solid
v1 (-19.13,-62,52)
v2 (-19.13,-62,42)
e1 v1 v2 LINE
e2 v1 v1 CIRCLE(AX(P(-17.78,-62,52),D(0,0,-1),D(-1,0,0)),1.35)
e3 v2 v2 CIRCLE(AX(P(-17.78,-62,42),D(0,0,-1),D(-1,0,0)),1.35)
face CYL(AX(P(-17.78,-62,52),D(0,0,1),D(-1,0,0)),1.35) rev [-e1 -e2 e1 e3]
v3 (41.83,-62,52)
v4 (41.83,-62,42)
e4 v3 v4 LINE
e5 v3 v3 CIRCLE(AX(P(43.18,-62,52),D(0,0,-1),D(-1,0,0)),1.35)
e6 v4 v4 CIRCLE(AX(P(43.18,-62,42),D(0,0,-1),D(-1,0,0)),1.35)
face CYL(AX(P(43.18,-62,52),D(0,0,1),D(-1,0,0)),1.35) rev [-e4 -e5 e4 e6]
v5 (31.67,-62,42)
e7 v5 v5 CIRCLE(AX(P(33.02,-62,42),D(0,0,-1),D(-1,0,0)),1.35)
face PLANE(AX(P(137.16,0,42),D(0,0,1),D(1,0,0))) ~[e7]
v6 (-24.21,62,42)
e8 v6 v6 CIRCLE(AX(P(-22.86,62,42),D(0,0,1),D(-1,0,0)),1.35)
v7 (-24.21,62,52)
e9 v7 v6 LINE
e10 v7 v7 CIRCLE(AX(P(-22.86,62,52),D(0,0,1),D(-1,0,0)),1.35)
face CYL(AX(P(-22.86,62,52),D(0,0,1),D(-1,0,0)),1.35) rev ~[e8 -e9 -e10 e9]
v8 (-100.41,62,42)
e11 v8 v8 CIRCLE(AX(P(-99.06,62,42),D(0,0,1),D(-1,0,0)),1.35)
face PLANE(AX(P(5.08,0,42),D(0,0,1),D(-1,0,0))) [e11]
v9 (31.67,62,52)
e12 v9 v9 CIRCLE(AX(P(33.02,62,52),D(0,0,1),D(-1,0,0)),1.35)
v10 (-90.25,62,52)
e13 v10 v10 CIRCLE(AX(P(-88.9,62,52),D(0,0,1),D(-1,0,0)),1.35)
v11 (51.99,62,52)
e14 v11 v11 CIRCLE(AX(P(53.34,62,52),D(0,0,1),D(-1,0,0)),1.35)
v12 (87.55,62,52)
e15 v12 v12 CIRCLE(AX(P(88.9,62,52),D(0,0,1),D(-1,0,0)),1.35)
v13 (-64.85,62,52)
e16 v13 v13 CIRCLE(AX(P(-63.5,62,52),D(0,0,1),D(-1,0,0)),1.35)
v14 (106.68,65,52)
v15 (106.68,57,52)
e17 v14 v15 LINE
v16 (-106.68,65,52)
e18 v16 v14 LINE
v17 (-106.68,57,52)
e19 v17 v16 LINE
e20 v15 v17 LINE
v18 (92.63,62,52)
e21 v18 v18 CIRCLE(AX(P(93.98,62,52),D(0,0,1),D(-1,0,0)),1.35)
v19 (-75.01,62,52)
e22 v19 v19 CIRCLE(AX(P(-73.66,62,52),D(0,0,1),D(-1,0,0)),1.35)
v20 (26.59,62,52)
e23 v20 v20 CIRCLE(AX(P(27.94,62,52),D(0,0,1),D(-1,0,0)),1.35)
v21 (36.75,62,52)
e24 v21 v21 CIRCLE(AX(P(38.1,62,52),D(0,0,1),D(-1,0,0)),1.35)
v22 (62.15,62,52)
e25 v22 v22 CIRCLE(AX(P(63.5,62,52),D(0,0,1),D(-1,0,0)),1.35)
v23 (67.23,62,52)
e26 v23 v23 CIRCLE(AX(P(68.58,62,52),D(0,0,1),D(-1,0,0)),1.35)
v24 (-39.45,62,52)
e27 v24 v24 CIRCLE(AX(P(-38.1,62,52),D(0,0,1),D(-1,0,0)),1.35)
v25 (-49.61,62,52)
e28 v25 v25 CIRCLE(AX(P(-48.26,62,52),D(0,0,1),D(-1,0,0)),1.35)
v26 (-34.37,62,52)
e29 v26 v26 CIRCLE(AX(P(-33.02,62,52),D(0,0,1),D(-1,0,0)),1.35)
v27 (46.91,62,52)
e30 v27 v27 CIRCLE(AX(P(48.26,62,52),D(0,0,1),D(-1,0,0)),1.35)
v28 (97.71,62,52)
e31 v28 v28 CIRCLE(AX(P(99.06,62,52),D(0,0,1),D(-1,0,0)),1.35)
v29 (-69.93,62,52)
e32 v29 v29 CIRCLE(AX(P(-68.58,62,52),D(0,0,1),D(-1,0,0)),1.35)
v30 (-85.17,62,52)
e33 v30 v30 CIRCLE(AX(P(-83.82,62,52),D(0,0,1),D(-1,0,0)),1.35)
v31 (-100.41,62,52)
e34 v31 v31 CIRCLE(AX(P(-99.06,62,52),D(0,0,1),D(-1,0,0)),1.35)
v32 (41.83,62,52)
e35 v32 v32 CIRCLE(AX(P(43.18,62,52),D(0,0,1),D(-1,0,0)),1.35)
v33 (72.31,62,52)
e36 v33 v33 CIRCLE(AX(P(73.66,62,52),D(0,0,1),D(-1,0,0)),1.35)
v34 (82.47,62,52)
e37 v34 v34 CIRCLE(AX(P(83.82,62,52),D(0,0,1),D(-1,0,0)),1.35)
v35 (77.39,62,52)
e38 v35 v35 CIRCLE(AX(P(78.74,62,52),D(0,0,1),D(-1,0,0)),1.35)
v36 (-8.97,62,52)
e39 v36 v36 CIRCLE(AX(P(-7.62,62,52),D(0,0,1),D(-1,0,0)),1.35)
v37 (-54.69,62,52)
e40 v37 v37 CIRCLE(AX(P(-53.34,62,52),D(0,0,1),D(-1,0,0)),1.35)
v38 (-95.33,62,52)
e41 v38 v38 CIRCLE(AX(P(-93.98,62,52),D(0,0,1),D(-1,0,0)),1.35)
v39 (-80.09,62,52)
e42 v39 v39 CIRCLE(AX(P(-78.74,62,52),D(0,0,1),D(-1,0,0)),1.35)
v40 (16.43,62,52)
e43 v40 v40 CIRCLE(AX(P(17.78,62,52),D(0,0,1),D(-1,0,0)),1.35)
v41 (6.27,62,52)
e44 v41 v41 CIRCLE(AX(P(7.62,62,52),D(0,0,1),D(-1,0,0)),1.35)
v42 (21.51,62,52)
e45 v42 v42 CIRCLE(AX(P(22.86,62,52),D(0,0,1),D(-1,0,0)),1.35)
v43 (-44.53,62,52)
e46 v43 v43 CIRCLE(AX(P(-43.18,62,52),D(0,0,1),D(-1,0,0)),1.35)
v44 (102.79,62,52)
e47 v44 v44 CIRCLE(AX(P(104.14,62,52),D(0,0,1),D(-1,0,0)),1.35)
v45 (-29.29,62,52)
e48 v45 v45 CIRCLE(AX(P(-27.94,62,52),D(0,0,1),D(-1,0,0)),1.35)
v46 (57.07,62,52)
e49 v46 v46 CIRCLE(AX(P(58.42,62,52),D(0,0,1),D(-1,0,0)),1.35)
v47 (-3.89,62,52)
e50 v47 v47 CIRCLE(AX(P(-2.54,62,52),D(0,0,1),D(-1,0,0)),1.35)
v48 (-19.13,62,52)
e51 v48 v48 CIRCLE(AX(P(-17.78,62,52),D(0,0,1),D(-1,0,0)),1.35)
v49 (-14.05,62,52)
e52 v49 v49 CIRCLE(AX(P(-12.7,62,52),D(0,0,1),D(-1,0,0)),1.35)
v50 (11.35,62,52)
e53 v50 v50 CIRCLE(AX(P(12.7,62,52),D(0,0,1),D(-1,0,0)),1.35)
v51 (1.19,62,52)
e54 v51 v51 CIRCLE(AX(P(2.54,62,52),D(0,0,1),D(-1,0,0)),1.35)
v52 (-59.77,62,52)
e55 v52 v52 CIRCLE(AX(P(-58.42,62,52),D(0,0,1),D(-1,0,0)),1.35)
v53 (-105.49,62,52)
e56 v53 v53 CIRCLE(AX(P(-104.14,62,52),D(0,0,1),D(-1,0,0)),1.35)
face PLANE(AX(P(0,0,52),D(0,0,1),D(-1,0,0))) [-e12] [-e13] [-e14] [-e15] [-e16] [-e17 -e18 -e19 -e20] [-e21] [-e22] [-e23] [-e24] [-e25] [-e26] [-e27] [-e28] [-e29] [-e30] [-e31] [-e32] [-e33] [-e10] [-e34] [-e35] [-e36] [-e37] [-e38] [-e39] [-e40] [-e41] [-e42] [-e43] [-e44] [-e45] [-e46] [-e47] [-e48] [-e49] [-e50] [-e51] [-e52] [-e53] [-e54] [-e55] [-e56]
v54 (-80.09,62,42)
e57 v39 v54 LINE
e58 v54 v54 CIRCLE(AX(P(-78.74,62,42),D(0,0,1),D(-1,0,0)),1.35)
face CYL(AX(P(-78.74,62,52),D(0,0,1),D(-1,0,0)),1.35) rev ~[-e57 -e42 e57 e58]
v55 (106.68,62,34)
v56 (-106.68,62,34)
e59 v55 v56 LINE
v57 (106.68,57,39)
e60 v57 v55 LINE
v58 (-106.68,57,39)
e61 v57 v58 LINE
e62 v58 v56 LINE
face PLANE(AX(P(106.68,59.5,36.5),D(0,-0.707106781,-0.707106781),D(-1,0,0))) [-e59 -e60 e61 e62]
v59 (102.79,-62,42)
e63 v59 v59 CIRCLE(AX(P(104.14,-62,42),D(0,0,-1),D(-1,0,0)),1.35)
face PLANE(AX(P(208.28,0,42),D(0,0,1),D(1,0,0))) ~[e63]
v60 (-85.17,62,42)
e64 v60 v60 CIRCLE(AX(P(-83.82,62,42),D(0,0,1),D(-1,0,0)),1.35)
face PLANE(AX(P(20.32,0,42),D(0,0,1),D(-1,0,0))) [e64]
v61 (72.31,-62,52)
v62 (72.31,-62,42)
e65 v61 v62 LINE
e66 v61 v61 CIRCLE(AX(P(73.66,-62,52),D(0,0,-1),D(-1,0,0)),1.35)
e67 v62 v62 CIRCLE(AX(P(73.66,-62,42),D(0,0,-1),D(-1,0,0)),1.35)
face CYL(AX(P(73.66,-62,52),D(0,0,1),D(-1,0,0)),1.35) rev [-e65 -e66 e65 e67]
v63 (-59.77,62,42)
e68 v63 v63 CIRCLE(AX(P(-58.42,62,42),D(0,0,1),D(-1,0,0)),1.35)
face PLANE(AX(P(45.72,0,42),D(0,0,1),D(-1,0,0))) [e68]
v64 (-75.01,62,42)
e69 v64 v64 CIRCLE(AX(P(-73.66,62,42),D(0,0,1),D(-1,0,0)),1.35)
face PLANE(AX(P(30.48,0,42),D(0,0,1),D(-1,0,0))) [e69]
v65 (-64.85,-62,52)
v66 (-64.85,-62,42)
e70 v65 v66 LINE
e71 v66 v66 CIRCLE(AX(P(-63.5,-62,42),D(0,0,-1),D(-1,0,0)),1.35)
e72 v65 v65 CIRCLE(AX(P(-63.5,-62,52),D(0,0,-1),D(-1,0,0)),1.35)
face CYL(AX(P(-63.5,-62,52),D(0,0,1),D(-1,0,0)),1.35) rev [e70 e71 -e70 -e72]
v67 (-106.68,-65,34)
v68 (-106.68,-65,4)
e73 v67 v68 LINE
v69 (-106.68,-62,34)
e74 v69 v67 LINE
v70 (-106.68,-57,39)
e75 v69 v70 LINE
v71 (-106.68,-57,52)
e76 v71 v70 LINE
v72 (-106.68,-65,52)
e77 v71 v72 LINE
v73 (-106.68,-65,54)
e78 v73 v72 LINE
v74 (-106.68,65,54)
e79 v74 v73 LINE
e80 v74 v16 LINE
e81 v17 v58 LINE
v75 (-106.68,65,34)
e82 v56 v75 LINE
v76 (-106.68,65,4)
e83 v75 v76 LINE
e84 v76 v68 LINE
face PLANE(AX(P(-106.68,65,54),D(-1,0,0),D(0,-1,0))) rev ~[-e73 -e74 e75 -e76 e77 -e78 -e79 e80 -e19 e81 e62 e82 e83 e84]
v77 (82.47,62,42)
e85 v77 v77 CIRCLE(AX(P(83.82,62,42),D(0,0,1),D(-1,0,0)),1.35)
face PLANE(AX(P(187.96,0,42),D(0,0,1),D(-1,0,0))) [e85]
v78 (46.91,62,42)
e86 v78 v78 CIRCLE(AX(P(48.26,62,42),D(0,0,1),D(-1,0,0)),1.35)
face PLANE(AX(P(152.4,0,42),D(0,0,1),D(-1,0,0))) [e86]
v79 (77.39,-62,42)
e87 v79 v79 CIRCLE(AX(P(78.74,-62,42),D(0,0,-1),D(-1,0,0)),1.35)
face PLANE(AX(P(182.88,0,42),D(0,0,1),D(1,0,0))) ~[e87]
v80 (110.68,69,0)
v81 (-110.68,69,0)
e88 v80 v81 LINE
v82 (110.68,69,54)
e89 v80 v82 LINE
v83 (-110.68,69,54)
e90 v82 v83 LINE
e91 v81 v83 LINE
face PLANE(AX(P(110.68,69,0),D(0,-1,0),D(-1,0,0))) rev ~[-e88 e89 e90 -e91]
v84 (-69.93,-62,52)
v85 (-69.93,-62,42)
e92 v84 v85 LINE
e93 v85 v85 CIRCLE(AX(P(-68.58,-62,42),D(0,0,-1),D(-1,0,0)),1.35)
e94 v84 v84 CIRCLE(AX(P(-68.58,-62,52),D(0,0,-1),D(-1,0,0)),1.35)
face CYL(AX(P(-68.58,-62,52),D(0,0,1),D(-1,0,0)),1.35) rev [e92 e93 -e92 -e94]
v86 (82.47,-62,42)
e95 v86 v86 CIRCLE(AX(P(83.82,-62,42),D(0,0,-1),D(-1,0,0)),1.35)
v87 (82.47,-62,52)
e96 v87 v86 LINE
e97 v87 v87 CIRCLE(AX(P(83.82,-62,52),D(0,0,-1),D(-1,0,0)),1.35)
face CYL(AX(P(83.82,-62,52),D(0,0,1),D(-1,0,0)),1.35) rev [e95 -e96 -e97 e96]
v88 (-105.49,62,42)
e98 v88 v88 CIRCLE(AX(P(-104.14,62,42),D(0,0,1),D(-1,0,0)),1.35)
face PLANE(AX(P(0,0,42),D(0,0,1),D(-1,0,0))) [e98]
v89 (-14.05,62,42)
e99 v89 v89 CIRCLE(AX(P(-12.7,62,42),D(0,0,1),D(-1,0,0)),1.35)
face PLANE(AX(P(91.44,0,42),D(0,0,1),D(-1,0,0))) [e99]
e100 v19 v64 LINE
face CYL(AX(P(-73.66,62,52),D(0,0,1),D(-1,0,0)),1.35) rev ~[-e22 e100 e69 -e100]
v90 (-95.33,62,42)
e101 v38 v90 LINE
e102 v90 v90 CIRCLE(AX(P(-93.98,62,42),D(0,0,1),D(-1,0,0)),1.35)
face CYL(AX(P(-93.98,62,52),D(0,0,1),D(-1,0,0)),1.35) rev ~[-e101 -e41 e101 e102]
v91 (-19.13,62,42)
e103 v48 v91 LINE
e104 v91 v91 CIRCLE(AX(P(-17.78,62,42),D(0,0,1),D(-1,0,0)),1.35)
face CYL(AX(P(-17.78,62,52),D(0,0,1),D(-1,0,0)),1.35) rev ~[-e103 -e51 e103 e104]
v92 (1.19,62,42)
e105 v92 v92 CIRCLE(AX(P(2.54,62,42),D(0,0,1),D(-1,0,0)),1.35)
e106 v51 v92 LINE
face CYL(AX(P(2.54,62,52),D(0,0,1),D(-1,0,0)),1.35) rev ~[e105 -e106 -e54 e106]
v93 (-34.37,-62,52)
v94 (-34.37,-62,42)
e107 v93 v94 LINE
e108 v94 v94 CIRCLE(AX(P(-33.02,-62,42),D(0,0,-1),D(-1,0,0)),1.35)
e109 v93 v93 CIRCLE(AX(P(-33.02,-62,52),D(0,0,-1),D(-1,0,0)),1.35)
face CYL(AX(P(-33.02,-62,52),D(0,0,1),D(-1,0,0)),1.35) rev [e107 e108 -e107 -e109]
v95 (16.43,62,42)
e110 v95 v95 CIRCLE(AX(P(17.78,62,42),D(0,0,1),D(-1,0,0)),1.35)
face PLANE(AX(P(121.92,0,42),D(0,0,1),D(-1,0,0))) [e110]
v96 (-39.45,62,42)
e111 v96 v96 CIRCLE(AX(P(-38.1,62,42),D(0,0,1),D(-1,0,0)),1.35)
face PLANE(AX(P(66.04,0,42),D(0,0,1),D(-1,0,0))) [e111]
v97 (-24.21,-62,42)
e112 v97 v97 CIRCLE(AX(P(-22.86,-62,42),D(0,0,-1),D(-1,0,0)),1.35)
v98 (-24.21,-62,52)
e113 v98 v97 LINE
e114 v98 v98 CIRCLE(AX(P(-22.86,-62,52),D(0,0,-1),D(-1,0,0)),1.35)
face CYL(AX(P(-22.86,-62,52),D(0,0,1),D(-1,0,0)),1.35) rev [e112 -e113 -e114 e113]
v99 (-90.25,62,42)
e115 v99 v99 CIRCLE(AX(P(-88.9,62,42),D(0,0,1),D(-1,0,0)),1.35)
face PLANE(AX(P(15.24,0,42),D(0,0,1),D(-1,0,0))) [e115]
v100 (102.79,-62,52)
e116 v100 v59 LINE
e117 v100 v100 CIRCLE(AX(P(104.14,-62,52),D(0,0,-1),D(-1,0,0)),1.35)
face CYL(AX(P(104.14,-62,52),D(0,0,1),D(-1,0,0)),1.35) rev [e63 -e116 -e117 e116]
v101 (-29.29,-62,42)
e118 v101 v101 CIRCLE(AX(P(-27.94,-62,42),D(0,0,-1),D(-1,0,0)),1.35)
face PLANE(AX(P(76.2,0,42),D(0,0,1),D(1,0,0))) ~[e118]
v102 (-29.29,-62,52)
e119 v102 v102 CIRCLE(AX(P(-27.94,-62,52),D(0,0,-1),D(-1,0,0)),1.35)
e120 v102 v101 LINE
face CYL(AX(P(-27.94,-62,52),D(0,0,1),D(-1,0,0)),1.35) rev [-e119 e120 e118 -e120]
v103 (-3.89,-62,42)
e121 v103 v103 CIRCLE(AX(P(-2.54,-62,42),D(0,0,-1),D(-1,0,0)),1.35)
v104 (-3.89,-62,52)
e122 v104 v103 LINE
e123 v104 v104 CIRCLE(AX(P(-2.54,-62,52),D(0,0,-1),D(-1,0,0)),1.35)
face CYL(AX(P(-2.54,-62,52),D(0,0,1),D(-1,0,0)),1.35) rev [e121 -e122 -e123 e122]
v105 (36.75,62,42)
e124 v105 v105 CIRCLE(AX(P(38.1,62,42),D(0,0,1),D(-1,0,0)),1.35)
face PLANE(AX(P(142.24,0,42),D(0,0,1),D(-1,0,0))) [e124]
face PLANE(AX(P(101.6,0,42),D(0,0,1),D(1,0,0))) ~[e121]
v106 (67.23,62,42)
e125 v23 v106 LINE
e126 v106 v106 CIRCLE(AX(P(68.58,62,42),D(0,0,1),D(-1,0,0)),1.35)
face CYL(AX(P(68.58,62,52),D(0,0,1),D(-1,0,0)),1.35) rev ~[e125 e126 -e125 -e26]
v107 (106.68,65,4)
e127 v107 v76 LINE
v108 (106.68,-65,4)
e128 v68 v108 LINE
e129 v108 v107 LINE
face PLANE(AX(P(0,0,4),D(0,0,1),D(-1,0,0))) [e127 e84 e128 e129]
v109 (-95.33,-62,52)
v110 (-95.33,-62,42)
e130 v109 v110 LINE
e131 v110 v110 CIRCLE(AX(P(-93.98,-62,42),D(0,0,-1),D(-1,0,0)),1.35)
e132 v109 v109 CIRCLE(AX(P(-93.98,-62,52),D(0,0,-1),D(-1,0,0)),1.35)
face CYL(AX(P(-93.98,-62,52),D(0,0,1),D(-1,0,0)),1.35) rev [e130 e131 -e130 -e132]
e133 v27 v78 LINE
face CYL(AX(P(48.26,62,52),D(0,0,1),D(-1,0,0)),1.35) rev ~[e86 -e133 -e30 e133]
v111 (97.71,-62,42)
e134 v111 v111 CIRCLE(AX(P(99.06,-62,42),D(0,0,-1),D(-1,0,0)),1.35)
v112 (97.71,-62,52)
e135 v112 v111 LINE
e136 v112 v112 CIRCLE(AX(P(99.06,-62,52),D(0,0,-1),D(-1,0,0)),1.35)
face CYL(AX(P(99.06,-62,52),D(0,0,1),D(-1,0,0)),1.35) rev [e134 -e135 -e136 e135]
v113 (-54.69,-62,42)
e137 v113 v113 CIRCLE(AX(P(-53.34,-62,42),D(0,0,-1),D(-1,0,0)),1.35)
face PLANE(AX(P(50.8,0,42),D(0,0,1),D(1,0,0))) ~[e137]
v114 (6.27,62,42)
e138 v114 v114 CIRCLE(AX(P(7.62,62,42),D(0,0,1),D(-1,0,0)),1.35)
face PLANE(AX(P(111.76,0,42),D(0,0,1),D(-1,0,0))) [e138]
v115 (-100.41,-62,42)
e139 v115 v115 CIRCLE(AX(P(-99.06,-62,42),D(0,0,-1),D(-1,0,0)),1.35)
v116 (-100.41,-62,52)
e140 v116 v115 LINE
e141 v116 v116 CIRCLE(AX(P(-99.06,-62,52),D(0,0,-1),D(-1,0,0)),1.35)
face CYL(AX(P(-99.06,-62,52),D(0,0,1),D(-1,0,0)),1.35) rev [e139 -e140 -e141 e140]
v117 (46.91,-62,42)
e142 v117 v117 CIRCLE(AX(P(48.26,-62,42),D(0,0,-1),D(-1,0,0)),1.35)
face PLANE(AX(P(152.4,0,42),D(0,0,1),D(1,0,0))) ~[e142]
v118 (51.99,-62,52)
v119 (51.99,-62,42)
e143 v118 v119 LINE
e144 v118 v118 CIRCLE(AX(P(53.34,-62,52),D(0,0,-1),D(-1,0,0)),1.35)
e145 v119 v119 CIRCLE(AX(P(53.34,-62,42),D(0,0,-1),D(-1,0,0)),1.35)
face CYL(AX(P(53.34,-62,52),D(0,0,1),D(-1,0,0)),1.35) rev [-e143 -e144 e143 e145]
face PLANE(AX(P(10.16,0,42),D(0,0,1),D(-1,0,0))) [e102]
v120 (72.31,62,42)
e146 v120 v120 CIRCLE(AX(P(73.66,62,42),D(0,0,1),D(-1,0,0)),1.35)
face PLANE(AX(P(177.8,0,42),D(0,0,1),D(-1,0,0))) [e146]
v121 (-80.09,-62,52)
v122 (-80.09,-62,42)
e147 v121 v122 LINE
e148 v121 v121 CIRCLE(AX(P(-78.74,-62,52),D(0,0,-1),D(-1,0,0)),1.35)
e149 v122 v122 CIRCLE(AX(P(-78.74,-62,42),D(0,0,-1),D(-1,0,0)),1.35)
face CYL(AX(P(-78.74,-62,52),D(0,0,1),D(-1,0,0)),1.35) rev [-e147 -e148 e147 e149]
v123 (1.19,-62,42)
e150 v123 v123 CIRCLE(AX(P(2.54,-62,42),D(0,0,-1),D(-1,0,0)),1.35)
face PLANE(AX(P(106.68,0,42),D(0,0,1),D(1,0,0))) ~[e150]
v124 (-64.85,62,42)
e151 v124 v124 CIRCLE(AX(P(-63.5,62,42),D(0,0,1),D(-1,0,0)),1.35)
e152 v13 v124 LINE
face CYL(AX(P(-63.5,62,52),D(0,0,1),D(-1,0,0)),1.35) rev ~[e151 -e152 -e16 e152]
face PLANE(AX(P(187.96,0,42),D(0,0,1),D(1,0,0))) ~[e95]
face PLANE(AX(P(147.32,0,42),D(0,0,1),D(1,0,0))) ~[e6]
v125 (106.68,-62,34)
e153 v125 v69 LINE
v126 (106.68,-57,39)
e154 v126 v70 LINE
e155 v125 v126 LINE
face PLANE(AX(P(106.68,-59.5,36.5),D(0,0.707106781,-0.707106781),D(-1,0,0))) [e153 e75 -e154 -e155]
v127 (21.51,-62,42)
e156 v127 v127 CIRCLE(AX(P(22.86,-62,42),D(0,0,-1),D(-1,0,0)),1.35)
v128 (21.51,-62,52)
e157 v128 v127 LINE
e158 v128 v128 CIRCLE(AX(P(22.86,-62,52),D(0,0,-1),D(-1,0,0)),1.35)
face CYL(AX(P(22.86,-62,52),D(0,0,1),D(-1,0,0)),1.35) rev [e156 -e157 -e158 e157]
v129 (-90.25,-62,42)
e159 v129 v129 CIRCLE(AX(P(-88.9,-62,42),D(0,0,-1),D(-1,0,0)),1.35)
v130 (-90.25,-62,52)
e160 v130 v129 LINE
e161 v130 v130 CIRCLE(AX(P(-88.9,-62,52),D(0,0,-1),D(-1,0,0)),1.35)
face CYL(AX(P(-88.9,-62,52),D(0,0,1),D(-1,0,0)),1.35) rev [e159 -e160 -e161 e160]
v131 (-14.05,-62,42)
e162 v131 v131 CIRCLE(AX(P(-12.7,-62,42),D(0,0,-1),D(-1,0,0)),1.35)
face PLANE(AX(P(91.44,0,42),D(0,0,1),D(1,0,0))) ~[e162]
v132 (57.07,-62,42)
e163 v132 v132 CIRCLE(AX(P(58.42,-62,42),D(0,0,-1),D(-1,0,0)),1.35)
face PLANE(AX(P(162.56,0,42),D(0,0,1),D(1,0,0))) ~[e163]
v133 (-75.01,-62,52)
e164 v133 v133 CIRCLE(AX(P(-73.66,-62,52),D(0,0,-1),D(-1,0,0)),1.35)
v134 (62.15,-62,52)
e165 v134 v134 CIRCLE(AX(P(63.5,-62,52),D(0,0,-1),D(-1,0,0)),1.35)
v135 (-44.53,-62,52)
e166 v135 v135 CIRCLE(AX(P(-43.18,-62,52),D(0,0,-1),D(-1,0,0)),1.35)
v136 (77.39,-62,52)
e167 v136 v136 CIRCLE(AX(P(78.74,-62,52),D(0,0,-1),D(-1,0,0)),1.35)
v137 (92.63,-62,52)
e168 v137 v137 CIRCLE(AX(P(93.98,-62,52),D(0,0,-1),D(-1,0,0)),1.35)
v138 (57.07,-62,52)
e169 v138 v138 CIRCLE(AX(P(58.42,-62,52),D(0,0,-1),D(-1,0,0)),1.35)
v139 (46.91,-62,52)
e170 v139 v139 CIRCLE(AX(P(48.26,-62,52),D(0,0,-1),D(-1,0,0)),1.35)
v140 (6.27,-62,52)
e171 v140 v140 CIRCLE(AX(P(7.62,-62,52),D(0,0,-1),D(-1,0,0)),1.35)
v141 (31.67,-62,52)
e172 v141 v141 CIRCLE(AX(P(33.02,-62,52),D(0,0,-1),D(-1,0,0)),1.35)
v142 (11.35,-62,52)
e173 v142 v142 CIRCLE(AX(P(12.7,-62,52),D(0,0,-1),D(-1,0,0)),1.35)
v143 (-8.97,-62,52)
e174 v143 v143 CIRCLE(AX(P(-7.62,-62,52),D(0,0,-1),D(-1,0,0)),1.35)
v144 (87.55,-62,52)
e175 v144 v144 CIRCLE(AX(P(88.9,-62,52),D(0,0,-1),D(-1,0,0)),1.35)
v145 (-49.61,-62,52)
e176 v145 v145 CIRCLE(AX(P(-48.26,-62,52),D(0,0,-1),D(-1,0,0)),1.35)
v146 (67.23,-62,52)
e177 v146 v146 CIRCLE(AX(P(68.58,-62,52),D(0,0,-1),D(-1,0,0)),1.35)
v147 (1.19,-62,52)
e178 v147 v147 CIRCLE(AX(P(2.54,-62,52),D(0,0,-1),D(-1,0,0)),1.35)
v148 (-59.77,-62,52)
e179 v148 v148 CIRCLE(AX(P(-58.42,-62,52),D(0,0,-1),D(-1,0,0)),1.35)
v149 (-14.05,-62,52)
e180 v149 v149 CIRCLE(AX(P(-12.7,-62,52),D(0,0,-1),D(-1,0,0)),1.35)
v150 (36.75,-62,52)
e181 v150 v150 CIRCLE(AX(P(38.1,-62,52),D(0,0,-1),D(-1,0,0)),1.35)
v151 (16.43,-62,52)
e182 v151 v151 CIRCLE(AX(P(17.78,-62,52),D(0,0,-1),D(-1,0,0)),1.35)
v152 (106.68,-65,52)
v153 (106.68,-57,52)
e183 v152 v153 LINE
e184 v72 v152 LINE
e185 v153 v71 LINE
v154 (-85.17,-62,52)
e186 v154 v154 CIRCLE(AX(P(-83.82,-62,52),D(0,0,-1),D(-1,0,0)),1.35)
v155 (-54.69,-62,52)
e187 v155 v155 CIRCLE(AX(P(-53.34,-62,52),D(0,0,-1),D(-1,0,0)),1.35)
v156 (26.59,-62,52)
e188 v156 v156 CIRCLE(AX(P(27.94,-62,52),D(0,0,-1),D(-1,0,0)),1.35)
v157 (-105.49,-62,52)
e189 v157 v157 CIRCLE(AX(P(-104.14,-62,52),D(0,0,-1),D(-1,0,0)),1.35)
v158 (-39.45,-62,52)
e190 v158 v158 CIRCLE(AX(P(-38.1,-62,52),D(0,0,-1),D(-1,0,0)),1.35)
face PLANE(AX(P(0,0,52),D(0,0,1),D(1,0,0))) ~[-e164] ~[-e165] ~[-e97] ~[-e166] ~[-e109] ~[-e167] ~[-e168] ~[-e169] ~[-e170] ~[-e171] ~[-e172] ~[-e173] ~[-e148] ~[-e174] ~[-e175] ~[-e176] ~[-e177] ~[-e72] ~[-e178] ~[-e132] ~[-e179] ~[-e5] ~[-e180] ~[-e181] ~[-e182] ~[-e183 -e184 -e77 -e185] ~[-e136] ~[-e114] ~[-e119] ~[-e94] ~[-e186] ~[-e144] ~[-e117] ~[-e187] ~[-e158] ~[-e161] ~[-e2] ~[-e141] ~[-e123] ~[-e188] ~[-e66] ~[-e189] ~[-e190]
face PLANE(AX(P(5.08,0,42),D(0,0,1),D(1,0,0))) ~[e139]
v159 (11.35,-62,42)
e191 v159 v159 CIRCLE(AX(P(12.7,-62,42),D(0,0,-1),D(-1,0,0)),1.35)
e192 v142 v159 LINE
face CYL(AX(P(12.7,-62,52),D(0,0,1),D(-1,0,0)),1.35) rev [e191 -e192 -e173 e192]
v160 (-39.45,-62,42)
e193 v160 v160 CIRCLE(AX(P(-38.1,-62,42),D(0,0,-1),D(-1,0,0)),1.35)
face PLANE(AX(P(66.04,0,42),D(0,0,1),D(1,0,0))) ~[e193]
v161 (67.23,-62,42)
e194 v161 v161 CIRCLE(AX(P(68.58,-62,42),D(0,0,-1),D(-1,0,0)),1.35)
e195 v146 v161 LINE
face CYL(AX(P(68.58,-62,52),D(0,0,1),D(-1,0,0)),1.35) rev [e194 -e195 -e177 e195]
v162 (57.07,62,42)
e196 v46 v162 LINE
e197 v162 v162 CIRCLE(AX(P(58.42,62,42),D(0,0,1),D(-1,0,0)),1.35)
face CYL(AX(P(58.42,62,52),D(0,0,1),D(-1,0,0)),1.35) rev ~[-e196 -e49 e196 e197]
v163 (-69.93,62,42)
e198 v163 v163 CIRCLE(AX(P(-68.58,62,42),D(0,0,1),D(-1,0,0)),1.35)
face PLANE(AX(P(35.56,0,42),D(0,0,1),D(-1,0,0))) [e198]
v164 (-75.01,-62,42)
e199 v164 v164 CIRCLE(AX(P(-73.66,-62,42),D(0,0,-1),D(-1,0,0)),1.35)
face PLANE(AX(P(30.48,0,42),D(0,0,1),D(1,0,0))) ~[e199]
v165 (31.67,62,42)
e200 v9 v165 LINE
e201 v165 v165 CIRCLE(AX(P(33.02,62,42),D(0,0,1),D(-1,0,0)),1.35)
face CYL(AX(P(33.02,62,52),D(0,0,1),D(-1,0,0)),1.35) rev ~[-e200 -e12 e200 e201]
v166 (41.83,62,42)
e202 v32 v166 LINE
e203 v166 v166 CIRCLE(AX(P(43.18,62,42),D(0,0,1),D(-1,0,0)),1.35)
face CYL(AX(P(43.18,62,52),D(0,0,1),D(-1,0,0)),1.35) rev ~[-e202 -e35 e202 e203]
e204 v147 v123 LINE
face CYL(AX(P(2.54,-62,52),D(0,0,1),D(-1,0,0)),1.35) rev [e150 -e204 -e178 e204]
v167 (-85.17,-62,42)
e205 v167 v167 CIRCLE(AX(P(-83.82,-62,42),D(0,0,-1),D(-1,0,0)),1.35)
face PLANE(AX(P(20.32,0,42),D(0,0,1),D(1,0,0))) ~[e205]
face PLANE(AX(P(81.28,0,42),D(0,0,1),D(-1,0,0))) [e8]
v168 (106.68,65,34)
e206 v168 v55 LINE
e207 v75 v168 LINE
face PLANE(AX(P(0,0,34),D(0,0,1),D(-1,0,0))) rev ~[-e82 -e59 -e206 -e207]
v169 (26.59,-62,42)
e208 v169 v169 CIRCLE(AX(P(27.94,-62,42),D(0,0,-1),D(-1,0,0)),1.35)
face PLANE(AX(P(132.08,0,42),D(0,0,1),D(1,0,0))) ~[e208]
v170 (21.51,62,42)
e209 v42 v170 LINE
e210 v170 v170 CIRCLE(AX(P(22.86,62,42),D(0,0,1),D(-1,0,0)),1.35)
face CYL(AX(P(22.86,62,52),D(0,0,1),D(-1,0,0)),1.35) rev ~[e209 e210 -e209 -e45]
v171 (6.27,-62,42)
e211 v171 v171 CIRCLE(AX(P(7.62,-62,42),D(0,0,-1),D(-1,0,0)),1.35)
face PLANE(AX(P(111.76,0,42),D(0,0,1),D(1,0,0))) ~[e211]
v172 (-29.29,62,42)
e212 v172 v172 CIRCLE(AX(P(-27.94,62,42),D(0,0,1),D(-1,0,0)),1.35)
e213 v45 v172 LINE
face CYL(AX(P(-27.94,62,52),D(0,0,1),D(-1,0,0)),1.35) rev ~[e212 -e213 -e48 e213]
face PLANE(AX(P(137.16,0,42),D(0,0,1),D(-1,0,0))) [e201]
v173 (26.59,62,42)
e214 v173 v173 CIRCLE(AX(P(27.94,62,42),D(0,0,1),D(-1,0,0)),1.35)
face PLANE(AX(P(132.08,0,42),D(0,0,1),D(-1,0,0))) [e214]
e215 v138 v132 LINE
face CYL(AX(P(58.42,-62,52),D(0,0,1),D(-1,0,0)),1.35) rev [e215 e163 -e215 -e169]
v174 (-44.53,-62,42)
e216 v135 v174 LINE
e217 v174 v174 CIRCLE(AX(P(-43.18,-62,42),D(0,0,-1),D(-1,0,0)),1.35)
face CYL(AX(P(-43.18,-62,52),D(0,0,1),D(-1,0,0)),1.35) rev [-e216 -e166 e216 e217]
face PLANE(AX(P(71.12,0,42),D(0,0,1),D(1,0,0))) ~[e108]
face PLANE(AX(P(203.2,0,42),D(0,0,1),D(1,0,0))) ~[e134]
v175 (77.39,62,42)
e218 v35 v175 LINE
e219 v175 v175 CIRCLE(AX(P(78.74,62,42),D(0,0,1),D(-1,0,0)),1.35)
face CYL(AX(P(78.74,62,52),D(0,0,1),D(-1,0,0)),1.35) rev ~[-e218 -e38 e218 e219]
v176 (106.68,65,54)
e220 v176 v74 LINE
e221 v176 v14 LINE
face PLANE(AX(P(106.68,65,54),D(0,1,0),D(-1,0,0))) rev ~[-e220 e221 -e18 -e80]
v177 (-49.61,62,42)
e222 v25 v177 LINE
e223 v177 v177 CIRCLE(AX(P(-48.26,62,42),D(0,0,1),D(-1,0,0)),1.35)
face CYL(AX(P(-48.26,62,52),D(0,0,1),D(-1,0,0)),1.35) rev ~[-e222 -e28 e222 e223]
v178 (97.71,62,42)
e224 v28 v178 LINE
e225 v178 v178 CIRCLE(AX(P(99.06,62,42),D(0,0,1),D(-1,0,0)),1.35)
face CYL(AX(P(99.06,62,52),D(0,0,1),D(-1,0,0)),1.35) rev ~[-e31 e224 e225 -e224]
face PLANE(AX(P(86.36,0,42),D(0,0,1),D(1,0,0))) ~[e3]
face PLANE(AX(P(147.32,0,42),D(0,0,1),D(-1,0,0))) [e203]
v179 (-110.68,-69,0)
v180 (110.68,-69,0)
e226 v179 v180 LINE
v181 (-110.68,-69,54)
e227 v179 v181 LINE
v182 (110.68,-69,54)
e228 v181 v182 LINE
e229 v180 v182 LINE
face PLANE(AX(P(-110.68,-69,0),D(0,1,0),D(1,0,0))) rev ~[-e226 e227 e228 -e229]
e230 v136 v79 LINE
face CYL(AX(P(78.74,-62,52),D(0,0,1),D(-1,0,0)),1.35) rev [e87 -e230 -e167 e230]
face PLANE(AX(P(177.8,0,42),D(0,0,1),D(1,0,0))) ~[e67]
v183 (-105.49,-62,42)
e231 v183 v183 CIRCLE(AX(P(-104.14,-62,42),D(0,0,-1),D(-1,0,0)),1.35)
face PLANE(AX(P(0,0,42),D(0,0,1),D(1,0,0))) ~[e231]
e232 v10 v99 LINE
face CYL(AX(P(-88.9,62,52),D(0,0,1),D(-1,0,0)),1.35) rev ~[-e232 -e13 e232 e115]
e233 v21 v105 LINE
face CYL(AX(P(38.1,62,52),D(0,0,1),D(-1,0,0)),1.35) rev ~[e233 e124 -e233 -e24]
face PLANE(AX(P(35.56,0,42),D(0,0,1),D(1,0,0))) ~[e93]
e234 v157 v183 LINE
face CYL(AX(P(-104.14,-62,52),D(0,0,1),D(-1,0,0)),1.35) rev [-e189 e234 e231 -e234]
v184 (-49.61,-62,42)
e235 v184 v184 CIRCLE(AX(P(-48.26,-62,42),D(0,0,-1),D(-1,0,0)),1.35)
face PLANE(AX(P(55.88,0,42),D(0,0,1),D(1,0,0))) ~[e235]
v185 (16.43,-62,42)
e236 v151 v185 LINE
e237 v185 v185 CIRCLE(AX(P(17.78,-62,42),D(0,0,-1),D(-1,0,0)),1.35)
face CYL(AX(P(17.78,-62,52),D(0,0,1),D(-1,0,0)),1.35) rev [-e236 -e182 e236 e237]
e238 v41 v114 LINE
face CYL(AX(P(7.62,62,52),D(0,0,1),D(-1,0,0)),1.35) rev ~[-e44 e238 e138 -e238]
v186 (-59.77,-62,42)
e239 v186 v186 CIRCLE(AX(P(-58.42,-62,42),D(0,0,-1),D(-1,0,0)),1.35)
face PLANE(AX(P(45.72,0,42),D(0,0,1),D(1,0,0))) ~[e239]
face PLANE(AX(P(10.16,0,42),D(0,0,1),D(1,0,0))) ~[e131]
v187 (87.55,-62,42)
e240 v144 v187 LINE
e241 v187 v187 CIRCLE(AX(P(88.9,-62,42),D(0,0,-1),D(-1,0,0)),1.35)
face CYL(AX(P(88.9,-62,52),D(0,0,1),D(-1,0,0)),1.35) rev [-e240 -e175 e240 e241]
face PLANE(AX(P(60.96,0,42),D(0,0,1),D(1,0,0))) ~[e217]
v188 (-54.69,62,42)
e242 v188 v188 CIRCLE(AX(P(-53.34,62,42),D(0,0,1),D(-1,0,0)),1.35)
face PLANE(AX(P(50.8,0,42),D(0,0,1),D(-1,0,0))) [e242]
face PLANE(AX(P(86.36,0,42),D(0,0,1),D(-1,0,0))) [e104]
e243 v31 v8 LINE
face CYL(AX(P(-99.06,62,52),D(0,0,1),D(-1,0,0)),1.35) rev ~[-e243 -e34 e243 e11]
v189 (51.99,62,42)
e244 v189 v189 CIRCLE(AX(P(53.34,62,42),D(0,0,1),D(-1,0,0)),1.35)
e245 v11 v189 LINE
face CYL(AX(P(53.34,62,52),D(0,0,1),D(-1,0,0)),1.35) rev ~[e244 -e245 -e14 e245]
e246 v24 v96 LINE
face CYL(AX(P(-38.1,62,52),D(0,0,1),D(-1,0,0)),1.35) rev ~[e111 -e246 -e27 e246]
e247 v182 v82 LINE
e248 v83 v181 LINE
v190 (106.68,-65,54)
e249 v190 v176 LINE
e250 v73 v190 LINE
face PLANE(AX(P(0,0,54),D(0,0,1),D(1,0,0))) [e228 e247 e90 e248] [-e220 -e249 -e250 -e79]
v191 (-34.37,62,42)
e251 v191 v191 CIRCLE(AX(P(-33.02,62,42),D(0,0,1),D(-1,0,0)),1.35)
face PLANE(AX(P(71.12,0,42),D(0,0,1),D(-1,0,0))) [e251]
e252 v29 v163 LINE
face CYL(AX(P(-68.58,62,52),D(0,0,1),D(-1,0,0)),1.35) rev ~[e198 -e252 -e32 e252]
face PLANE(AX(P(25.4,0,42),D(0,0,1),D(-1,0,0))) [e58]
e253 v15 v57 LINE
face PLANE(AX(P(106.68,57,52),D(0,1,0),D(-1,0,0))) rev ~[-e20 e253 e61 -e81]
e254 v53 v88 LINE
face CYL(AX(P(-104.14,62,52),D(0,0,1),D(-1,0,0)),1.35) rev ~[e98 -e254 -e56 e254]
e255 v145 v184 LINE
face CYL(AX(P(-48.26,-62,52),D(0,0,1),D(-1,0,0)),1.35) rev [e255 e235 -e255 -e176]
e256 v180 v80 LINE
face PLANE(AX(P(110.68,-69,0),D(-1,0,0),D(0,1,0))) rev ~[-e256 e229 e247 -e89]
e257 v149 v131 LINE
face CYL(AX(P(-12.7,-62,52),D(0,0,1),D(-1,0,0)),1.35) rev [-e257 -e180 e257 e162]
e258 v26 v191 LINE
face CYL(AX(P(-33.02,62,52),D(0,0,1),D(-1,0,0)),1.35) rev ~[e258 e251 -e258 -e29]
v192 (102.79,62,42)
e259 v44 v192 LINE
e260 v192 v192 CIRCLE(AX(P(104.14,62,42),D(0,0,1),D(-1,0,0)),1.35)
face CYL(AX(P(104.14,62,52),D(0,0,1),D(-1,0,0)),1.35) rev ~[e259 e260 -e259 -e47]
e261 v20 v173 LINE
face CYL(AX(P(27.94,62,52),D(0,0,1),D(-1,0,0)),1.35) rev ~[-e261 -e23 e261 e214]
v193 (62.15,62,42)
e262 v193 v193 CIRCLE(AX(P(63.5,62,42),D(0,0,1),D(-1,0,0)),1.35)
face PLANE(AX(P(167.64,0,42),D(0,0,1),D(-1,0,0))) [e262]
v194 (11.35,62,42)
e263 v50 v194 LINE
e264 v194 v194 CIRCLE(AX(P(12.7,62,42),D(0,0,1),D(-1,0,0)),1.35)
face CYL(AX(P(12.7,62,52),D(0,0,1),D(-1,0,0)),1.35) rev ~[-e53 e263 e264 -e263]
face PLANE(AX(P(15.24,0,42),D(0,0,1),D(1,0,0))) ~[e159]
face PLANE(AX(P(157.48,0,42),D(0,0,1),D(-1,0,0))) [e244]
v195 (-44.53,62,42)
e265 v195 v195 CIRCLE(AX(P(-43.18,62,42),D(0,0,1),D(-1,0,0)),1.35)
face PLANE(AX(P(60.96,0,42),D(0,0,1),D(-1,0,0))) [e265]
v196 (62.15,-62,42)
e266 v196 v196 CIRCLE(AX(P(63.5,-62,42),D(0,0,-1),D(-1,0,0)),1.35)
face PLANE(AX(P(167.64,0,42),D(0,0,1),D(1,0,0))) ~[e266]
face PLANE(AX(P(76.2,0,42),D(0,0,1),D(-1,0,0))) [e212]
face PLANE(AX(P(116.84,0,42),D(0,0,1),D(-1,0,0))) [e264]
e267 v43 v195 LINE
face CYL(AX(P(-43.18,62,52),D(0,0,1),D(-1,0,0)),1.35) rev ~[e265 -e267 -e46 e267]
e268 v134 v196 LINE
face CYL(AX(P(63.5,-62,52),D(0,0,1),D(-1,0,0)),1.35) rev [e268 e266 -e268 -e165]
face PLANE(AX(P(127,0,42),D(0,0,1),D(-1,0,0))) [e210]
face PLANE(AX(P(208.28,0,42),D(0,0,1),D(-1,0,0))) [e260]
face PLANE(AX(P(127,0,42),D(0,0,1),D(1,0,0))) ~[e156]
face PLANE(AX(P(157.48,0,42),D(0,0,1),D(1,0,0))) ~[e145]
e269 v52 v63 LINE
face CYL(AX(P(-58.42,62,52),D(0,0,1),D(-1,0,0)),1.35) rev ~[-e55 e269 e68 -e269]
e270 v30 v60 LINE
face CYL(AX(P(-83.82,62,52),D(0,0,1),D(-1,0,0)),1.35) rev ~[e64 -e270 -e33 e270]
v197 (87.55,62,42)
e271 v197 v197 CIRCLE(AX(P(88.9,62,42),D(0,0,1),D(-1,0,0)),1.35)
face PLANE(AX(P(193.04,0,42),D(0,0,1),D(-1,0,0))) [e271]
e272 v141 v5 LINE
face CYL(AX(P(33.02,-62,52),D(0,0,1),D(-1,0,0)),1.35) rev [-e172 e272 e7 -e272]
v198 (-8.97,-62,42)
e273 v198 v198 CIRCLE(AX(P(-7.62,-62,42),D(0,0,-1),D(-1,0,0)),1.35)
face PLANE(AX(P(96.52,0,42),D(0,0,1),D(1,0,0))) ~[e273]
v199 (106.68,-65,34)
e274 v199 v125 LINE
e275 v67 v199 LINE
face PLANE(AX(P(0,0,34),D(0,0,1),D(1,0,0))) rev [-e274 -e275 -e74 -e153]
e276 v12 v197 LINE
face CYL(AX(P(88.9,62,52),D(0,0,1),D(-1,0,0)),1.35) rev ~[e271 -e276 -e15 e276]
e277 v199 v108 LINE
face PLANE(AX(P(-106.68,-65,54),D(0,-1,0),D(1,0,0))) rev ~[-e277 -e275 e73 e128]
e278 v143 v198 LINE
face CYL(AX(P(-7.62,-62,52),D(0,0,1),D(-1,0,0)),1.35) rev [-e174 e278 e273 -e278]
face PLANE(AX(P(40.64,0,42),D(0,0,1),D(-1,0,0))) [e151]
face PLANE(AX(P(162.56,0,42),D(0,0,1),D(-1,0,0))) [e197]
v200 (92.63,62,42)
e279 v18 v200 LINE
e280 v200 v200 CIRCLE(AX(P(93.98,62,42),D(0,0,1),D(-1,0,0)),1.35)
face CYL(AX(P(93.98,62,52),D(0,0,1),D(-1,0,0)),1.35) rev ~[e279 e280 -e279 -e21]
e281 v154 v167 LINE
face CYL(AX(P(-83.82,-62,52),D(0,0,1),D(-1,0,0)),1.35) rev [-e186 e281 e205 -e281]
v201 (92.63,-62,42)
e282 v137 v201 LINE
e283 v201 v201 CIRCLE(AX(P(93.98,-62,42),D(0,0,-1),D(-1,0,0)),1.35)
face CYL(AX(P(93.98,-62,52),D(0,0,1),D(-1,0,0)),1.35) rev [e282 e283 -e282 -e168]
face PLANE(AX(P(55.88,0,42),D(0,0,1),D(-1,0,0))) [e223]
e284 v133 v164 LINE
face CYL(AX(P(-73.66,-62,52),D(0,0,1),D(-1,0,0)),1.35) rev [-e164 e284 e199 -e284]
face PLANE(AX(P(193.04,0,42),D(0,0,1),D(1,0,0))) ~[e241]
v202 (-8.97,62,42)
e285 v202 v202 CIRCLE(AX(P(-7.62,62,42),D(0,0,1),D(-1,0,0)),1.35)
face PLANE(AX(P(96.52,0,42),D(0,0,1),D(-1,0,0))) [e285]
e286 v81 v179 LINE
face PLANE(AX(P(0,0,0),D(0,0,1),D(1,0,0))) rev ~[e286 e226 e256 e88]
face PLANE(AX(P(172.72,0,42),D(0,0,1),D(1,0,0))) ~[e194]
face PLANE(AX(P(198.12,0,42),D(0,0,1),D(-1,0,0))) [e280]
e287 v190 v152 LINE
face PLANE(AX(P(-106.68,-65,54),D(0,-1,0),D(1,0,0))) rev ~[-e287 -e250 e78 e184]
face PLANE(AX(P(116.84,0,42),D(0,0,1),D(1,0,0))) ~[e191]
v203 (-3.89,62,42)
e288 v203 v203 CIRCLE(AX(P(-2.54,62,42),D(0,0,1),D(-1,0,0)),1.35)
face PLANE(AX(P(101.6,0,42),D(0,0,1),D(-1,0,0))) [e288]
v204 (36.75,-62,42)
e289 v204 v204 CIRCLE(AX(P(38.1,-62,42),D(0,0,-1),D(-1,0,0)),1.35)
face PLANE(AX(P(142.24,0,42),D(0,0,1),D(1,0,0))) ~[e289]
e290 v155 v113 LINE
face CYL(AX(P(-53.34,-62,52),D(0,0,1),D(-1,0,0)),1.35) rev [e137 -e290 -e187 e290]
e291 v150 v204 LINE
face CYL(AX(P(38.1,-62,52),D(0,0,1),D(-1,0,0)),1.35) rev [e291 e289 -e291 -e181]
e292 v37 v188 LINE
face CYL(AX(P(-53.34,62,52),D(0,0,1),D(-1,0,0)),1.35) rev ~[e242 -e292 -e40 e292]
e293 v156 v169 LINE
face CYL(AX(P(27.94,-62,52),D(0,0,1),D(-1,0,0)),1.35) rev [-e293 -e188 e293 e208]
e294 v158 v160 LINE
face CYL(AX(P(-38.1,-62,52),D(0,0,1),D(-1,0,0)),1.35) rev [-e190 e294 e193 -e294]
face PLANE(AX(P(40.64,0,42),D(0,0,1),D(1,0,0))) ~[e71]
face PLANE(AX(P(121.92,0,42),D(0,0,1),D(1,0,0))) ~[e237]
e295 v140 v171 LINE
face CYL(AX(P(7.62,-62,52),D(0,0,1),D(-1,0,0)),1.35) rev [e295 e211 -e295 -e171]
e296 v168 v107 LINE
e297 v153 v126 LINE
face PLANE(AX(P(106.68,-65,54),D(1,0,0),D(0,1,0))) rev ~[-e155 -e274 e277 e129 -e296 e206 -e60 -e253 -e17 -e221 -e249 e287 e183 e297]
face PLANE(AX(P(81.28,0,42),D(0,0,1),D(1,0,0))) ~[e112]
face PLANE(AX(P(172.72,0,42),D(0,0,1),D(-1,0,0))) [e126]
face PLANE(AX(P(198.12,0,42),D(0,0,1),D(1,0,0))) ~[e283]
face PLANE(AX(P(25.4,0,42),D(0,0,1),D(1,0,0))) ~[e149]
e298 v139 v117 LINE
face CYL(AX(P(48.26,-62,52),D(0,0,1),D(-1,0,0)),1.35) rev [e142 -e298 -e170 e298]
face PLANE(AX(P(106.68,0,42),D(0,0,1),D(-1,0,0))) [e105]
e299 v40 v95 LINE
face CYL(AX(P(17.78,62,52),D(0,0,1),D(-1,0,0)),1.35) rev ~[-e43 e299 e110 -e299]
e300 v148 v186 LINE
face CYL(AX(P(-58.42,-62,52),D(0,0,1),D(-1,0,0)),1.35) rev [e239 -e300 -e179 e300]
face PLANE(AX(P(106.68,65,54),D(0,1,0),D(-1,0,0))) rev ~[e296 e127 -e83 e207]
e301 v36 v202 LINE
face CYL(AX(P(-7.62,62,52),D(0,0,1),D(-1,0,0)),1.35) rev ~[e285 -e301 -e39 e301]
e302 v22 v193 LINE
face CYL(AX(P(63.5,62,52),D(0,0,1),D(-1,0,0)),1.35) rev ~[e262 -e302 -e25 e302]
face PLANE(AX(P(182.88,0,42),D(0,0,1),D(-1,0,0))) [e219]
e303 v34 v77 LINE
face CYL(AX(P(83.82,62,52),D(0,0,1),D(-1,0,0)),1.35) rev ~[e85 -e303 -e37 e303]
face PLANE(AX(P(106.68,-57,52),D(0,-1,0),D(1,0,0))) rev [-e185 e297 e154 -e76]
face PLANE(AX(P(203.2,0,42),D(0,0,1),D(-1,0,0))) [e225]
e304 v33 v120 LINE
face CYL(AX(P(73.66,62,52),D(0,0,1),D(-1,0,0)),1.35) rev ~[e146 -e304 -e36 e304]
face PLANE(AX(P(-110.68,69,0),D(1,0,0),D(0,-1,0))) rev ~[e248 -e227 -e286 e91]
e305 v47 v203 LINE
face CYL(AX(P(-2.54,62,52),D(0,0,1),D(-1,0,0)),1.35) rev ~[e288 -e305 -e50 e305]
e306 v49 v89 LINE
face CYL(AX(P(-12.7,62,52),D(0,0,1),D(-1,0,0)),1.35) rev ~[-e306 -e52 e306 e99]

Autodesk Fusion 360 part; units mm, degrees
sketch "Sketch2" plane through (0, 0, 0) normal (0, 0, 1) x (1, 0, 0)
  line L0 (110.68, 69) -> (-110.68, 69)
  line L1 (-110.68, 69) -> (-110.68, -69)
  line L2 (-110.68, -69) -> (110.68, -69)
  line L3 (110.68, -69) -> (110.68, 69)
  line L4 (110.68, 69) -> (-110.68, -69) construction
  line L5 (-110.68, 69) -> (110.68, -69) construction
  dimension "d14" = 138
  dimension "d15" = 221.36
extrude "Extrude2" add sketch "Sketch2" along normal blind 54
sketch "Sketch3" plane through (0, 0, 54) normal (0, 0, 1) x (-1, 0, 0)
  line L0 (-110.68, 69) -> (-110.68, -69)
  line L1 (-110.68, -69) -> (110.68, -69)
  line L2 (110.68, -69) -> (110.68, 69)
  line L3 (110.68, 69) -> (-110.68, 69)
  line L4 (-106.68, -65) -> (106.68, -65)
  line L5 (106.68, -65) -> (106.68, 65)
  line L6 (106.68, 65) -> (-106.68, 65)
  line L7 (-106.68, 65) -> (-106.68, -65)
  line L8 (-106.68, -65) -> (106.68, 65) construction
  line L9 (106.68, -65) -> (-106.68, 65) construction
  dimension "d18" = 130
  dimension "d19" = 213.36
extrude "Extrude3" cut sketch "Sketch3" against normal blind 50 contours L4 L5 L6 L7
sketch "Sketch4" plane through (0, 0, 54) normal (0, 0, 1) x (-1, 0, 0)
  line L0 (106.68, -65) -> (-106.68, -65)
  line L1 (-106.68, -65) -> (-106.68, 65)
  line L2 (-106.68, 65) -> (106.68, 65)
  line L3 (106.68, 65) -> (106.68, -65)
  line L4 (-110.68, 69) -> (-110.68, -69)
  line L5 (-110.68, -69) -> (110.68, -69)
  line L6 (110.68, -69) -> (110.68, 69)
  line L7 (110.68, 69) -> (-110.68, 69)
  line L8 (106.68, -65) -> (-106.68, -65)
  line L9 (-106.68, -65) -> (-106.68, -57)
  line L10 (-106.68, -57) -> (106.68, -57)
  line L11 (106.68, -57) -> (106.68, -65)
  dimension "d24" = 8
  dimension "d47" = 213.36
extrude "Extrude4" add sketch "Sketch4" along normal blind -20 and the other way blind 2 contours L0 L1 L3 L8 L9 L10 L11
chamfer "Chamfer1" distance 5 angle 45 1 edges at (0, 57, 34)
sketch "Sketch5" plane through (0, 0, 52) normal (0, 0, 1) x (-1, 0, 0)
  line L0 (106.68, -57) -> (-106.68, -57)
  line L1 (-106.68, -65) -> (106.68, -65)
  line L2 (106.68, -65) -> (106.68, -57)
  circle A0 centre (104.14, -62) radius 1.35
  line L3 (-106.68, -57) -> (-106.68, -65)
  dimension "d38" = 2.7
  dimension "d39" = 3
  dimension "d40" = 2.54
extrude "Extrude5" cut sketch "Sketch5" against normal blind 10 contours A0
pattern_linear "R-Pattern1" count 42 spacing 5.08 along (1, 0, 0) of "Extrude5"
mirror "Mirror2" about plane through (0, 0, 0) normal (0, 1, 0) of "Extrude4", "Chamfer1", "Extrude5", "R-Pattern1"
equation "_hp = 5.08 mm"
equation "case_width_hp = 42"
equation "side_wall_width = 4 mm"
equation "top_bottom_wall_width = 4 mm"
equation "case_depth = 50 mm"
equation "threeU_height = 130 mm"
equation "base_height = 4 mm"
equation "d14 = threeU_height + ( 2 * top_bottom_wall_width )"
equation "d15 = ( case_width_hp * _hp ) + ( 2 * side_wall_width )"
equation "d16 = case_depth + base_height"
equation "d18 = threeU_height"
equation "d19 = case_width_hp * _hp"
equation "d20 = -case_depth"
equation "rail_thickness = 8 mm"
equation "rail_depth = 20 mm"
equation "d25 = -rail_depth"
equation "d27 = rail_lip"
equation "rail_lip = 2 mm"
equation "screw_hole_diameter = 2.7 mm"
equation "screw_hole_spacing = 5.08 mm"
equation "screw_hole_depth = 10 mm"
equation "d40 = screw_hole_spacing / 2"
equation "d41 = -screw_hole_depth"
equation "d43 = case_width_hp"
equation "d45 = ( case_width_hp - 1 ) * _hp"
equation "d47 = case_width_hp * _hp"
equation "vent_slot_angle = 34 deg"
equation "vent_slot_ratio = 0.7"
equation "vent_slot_width = 3 mm"
